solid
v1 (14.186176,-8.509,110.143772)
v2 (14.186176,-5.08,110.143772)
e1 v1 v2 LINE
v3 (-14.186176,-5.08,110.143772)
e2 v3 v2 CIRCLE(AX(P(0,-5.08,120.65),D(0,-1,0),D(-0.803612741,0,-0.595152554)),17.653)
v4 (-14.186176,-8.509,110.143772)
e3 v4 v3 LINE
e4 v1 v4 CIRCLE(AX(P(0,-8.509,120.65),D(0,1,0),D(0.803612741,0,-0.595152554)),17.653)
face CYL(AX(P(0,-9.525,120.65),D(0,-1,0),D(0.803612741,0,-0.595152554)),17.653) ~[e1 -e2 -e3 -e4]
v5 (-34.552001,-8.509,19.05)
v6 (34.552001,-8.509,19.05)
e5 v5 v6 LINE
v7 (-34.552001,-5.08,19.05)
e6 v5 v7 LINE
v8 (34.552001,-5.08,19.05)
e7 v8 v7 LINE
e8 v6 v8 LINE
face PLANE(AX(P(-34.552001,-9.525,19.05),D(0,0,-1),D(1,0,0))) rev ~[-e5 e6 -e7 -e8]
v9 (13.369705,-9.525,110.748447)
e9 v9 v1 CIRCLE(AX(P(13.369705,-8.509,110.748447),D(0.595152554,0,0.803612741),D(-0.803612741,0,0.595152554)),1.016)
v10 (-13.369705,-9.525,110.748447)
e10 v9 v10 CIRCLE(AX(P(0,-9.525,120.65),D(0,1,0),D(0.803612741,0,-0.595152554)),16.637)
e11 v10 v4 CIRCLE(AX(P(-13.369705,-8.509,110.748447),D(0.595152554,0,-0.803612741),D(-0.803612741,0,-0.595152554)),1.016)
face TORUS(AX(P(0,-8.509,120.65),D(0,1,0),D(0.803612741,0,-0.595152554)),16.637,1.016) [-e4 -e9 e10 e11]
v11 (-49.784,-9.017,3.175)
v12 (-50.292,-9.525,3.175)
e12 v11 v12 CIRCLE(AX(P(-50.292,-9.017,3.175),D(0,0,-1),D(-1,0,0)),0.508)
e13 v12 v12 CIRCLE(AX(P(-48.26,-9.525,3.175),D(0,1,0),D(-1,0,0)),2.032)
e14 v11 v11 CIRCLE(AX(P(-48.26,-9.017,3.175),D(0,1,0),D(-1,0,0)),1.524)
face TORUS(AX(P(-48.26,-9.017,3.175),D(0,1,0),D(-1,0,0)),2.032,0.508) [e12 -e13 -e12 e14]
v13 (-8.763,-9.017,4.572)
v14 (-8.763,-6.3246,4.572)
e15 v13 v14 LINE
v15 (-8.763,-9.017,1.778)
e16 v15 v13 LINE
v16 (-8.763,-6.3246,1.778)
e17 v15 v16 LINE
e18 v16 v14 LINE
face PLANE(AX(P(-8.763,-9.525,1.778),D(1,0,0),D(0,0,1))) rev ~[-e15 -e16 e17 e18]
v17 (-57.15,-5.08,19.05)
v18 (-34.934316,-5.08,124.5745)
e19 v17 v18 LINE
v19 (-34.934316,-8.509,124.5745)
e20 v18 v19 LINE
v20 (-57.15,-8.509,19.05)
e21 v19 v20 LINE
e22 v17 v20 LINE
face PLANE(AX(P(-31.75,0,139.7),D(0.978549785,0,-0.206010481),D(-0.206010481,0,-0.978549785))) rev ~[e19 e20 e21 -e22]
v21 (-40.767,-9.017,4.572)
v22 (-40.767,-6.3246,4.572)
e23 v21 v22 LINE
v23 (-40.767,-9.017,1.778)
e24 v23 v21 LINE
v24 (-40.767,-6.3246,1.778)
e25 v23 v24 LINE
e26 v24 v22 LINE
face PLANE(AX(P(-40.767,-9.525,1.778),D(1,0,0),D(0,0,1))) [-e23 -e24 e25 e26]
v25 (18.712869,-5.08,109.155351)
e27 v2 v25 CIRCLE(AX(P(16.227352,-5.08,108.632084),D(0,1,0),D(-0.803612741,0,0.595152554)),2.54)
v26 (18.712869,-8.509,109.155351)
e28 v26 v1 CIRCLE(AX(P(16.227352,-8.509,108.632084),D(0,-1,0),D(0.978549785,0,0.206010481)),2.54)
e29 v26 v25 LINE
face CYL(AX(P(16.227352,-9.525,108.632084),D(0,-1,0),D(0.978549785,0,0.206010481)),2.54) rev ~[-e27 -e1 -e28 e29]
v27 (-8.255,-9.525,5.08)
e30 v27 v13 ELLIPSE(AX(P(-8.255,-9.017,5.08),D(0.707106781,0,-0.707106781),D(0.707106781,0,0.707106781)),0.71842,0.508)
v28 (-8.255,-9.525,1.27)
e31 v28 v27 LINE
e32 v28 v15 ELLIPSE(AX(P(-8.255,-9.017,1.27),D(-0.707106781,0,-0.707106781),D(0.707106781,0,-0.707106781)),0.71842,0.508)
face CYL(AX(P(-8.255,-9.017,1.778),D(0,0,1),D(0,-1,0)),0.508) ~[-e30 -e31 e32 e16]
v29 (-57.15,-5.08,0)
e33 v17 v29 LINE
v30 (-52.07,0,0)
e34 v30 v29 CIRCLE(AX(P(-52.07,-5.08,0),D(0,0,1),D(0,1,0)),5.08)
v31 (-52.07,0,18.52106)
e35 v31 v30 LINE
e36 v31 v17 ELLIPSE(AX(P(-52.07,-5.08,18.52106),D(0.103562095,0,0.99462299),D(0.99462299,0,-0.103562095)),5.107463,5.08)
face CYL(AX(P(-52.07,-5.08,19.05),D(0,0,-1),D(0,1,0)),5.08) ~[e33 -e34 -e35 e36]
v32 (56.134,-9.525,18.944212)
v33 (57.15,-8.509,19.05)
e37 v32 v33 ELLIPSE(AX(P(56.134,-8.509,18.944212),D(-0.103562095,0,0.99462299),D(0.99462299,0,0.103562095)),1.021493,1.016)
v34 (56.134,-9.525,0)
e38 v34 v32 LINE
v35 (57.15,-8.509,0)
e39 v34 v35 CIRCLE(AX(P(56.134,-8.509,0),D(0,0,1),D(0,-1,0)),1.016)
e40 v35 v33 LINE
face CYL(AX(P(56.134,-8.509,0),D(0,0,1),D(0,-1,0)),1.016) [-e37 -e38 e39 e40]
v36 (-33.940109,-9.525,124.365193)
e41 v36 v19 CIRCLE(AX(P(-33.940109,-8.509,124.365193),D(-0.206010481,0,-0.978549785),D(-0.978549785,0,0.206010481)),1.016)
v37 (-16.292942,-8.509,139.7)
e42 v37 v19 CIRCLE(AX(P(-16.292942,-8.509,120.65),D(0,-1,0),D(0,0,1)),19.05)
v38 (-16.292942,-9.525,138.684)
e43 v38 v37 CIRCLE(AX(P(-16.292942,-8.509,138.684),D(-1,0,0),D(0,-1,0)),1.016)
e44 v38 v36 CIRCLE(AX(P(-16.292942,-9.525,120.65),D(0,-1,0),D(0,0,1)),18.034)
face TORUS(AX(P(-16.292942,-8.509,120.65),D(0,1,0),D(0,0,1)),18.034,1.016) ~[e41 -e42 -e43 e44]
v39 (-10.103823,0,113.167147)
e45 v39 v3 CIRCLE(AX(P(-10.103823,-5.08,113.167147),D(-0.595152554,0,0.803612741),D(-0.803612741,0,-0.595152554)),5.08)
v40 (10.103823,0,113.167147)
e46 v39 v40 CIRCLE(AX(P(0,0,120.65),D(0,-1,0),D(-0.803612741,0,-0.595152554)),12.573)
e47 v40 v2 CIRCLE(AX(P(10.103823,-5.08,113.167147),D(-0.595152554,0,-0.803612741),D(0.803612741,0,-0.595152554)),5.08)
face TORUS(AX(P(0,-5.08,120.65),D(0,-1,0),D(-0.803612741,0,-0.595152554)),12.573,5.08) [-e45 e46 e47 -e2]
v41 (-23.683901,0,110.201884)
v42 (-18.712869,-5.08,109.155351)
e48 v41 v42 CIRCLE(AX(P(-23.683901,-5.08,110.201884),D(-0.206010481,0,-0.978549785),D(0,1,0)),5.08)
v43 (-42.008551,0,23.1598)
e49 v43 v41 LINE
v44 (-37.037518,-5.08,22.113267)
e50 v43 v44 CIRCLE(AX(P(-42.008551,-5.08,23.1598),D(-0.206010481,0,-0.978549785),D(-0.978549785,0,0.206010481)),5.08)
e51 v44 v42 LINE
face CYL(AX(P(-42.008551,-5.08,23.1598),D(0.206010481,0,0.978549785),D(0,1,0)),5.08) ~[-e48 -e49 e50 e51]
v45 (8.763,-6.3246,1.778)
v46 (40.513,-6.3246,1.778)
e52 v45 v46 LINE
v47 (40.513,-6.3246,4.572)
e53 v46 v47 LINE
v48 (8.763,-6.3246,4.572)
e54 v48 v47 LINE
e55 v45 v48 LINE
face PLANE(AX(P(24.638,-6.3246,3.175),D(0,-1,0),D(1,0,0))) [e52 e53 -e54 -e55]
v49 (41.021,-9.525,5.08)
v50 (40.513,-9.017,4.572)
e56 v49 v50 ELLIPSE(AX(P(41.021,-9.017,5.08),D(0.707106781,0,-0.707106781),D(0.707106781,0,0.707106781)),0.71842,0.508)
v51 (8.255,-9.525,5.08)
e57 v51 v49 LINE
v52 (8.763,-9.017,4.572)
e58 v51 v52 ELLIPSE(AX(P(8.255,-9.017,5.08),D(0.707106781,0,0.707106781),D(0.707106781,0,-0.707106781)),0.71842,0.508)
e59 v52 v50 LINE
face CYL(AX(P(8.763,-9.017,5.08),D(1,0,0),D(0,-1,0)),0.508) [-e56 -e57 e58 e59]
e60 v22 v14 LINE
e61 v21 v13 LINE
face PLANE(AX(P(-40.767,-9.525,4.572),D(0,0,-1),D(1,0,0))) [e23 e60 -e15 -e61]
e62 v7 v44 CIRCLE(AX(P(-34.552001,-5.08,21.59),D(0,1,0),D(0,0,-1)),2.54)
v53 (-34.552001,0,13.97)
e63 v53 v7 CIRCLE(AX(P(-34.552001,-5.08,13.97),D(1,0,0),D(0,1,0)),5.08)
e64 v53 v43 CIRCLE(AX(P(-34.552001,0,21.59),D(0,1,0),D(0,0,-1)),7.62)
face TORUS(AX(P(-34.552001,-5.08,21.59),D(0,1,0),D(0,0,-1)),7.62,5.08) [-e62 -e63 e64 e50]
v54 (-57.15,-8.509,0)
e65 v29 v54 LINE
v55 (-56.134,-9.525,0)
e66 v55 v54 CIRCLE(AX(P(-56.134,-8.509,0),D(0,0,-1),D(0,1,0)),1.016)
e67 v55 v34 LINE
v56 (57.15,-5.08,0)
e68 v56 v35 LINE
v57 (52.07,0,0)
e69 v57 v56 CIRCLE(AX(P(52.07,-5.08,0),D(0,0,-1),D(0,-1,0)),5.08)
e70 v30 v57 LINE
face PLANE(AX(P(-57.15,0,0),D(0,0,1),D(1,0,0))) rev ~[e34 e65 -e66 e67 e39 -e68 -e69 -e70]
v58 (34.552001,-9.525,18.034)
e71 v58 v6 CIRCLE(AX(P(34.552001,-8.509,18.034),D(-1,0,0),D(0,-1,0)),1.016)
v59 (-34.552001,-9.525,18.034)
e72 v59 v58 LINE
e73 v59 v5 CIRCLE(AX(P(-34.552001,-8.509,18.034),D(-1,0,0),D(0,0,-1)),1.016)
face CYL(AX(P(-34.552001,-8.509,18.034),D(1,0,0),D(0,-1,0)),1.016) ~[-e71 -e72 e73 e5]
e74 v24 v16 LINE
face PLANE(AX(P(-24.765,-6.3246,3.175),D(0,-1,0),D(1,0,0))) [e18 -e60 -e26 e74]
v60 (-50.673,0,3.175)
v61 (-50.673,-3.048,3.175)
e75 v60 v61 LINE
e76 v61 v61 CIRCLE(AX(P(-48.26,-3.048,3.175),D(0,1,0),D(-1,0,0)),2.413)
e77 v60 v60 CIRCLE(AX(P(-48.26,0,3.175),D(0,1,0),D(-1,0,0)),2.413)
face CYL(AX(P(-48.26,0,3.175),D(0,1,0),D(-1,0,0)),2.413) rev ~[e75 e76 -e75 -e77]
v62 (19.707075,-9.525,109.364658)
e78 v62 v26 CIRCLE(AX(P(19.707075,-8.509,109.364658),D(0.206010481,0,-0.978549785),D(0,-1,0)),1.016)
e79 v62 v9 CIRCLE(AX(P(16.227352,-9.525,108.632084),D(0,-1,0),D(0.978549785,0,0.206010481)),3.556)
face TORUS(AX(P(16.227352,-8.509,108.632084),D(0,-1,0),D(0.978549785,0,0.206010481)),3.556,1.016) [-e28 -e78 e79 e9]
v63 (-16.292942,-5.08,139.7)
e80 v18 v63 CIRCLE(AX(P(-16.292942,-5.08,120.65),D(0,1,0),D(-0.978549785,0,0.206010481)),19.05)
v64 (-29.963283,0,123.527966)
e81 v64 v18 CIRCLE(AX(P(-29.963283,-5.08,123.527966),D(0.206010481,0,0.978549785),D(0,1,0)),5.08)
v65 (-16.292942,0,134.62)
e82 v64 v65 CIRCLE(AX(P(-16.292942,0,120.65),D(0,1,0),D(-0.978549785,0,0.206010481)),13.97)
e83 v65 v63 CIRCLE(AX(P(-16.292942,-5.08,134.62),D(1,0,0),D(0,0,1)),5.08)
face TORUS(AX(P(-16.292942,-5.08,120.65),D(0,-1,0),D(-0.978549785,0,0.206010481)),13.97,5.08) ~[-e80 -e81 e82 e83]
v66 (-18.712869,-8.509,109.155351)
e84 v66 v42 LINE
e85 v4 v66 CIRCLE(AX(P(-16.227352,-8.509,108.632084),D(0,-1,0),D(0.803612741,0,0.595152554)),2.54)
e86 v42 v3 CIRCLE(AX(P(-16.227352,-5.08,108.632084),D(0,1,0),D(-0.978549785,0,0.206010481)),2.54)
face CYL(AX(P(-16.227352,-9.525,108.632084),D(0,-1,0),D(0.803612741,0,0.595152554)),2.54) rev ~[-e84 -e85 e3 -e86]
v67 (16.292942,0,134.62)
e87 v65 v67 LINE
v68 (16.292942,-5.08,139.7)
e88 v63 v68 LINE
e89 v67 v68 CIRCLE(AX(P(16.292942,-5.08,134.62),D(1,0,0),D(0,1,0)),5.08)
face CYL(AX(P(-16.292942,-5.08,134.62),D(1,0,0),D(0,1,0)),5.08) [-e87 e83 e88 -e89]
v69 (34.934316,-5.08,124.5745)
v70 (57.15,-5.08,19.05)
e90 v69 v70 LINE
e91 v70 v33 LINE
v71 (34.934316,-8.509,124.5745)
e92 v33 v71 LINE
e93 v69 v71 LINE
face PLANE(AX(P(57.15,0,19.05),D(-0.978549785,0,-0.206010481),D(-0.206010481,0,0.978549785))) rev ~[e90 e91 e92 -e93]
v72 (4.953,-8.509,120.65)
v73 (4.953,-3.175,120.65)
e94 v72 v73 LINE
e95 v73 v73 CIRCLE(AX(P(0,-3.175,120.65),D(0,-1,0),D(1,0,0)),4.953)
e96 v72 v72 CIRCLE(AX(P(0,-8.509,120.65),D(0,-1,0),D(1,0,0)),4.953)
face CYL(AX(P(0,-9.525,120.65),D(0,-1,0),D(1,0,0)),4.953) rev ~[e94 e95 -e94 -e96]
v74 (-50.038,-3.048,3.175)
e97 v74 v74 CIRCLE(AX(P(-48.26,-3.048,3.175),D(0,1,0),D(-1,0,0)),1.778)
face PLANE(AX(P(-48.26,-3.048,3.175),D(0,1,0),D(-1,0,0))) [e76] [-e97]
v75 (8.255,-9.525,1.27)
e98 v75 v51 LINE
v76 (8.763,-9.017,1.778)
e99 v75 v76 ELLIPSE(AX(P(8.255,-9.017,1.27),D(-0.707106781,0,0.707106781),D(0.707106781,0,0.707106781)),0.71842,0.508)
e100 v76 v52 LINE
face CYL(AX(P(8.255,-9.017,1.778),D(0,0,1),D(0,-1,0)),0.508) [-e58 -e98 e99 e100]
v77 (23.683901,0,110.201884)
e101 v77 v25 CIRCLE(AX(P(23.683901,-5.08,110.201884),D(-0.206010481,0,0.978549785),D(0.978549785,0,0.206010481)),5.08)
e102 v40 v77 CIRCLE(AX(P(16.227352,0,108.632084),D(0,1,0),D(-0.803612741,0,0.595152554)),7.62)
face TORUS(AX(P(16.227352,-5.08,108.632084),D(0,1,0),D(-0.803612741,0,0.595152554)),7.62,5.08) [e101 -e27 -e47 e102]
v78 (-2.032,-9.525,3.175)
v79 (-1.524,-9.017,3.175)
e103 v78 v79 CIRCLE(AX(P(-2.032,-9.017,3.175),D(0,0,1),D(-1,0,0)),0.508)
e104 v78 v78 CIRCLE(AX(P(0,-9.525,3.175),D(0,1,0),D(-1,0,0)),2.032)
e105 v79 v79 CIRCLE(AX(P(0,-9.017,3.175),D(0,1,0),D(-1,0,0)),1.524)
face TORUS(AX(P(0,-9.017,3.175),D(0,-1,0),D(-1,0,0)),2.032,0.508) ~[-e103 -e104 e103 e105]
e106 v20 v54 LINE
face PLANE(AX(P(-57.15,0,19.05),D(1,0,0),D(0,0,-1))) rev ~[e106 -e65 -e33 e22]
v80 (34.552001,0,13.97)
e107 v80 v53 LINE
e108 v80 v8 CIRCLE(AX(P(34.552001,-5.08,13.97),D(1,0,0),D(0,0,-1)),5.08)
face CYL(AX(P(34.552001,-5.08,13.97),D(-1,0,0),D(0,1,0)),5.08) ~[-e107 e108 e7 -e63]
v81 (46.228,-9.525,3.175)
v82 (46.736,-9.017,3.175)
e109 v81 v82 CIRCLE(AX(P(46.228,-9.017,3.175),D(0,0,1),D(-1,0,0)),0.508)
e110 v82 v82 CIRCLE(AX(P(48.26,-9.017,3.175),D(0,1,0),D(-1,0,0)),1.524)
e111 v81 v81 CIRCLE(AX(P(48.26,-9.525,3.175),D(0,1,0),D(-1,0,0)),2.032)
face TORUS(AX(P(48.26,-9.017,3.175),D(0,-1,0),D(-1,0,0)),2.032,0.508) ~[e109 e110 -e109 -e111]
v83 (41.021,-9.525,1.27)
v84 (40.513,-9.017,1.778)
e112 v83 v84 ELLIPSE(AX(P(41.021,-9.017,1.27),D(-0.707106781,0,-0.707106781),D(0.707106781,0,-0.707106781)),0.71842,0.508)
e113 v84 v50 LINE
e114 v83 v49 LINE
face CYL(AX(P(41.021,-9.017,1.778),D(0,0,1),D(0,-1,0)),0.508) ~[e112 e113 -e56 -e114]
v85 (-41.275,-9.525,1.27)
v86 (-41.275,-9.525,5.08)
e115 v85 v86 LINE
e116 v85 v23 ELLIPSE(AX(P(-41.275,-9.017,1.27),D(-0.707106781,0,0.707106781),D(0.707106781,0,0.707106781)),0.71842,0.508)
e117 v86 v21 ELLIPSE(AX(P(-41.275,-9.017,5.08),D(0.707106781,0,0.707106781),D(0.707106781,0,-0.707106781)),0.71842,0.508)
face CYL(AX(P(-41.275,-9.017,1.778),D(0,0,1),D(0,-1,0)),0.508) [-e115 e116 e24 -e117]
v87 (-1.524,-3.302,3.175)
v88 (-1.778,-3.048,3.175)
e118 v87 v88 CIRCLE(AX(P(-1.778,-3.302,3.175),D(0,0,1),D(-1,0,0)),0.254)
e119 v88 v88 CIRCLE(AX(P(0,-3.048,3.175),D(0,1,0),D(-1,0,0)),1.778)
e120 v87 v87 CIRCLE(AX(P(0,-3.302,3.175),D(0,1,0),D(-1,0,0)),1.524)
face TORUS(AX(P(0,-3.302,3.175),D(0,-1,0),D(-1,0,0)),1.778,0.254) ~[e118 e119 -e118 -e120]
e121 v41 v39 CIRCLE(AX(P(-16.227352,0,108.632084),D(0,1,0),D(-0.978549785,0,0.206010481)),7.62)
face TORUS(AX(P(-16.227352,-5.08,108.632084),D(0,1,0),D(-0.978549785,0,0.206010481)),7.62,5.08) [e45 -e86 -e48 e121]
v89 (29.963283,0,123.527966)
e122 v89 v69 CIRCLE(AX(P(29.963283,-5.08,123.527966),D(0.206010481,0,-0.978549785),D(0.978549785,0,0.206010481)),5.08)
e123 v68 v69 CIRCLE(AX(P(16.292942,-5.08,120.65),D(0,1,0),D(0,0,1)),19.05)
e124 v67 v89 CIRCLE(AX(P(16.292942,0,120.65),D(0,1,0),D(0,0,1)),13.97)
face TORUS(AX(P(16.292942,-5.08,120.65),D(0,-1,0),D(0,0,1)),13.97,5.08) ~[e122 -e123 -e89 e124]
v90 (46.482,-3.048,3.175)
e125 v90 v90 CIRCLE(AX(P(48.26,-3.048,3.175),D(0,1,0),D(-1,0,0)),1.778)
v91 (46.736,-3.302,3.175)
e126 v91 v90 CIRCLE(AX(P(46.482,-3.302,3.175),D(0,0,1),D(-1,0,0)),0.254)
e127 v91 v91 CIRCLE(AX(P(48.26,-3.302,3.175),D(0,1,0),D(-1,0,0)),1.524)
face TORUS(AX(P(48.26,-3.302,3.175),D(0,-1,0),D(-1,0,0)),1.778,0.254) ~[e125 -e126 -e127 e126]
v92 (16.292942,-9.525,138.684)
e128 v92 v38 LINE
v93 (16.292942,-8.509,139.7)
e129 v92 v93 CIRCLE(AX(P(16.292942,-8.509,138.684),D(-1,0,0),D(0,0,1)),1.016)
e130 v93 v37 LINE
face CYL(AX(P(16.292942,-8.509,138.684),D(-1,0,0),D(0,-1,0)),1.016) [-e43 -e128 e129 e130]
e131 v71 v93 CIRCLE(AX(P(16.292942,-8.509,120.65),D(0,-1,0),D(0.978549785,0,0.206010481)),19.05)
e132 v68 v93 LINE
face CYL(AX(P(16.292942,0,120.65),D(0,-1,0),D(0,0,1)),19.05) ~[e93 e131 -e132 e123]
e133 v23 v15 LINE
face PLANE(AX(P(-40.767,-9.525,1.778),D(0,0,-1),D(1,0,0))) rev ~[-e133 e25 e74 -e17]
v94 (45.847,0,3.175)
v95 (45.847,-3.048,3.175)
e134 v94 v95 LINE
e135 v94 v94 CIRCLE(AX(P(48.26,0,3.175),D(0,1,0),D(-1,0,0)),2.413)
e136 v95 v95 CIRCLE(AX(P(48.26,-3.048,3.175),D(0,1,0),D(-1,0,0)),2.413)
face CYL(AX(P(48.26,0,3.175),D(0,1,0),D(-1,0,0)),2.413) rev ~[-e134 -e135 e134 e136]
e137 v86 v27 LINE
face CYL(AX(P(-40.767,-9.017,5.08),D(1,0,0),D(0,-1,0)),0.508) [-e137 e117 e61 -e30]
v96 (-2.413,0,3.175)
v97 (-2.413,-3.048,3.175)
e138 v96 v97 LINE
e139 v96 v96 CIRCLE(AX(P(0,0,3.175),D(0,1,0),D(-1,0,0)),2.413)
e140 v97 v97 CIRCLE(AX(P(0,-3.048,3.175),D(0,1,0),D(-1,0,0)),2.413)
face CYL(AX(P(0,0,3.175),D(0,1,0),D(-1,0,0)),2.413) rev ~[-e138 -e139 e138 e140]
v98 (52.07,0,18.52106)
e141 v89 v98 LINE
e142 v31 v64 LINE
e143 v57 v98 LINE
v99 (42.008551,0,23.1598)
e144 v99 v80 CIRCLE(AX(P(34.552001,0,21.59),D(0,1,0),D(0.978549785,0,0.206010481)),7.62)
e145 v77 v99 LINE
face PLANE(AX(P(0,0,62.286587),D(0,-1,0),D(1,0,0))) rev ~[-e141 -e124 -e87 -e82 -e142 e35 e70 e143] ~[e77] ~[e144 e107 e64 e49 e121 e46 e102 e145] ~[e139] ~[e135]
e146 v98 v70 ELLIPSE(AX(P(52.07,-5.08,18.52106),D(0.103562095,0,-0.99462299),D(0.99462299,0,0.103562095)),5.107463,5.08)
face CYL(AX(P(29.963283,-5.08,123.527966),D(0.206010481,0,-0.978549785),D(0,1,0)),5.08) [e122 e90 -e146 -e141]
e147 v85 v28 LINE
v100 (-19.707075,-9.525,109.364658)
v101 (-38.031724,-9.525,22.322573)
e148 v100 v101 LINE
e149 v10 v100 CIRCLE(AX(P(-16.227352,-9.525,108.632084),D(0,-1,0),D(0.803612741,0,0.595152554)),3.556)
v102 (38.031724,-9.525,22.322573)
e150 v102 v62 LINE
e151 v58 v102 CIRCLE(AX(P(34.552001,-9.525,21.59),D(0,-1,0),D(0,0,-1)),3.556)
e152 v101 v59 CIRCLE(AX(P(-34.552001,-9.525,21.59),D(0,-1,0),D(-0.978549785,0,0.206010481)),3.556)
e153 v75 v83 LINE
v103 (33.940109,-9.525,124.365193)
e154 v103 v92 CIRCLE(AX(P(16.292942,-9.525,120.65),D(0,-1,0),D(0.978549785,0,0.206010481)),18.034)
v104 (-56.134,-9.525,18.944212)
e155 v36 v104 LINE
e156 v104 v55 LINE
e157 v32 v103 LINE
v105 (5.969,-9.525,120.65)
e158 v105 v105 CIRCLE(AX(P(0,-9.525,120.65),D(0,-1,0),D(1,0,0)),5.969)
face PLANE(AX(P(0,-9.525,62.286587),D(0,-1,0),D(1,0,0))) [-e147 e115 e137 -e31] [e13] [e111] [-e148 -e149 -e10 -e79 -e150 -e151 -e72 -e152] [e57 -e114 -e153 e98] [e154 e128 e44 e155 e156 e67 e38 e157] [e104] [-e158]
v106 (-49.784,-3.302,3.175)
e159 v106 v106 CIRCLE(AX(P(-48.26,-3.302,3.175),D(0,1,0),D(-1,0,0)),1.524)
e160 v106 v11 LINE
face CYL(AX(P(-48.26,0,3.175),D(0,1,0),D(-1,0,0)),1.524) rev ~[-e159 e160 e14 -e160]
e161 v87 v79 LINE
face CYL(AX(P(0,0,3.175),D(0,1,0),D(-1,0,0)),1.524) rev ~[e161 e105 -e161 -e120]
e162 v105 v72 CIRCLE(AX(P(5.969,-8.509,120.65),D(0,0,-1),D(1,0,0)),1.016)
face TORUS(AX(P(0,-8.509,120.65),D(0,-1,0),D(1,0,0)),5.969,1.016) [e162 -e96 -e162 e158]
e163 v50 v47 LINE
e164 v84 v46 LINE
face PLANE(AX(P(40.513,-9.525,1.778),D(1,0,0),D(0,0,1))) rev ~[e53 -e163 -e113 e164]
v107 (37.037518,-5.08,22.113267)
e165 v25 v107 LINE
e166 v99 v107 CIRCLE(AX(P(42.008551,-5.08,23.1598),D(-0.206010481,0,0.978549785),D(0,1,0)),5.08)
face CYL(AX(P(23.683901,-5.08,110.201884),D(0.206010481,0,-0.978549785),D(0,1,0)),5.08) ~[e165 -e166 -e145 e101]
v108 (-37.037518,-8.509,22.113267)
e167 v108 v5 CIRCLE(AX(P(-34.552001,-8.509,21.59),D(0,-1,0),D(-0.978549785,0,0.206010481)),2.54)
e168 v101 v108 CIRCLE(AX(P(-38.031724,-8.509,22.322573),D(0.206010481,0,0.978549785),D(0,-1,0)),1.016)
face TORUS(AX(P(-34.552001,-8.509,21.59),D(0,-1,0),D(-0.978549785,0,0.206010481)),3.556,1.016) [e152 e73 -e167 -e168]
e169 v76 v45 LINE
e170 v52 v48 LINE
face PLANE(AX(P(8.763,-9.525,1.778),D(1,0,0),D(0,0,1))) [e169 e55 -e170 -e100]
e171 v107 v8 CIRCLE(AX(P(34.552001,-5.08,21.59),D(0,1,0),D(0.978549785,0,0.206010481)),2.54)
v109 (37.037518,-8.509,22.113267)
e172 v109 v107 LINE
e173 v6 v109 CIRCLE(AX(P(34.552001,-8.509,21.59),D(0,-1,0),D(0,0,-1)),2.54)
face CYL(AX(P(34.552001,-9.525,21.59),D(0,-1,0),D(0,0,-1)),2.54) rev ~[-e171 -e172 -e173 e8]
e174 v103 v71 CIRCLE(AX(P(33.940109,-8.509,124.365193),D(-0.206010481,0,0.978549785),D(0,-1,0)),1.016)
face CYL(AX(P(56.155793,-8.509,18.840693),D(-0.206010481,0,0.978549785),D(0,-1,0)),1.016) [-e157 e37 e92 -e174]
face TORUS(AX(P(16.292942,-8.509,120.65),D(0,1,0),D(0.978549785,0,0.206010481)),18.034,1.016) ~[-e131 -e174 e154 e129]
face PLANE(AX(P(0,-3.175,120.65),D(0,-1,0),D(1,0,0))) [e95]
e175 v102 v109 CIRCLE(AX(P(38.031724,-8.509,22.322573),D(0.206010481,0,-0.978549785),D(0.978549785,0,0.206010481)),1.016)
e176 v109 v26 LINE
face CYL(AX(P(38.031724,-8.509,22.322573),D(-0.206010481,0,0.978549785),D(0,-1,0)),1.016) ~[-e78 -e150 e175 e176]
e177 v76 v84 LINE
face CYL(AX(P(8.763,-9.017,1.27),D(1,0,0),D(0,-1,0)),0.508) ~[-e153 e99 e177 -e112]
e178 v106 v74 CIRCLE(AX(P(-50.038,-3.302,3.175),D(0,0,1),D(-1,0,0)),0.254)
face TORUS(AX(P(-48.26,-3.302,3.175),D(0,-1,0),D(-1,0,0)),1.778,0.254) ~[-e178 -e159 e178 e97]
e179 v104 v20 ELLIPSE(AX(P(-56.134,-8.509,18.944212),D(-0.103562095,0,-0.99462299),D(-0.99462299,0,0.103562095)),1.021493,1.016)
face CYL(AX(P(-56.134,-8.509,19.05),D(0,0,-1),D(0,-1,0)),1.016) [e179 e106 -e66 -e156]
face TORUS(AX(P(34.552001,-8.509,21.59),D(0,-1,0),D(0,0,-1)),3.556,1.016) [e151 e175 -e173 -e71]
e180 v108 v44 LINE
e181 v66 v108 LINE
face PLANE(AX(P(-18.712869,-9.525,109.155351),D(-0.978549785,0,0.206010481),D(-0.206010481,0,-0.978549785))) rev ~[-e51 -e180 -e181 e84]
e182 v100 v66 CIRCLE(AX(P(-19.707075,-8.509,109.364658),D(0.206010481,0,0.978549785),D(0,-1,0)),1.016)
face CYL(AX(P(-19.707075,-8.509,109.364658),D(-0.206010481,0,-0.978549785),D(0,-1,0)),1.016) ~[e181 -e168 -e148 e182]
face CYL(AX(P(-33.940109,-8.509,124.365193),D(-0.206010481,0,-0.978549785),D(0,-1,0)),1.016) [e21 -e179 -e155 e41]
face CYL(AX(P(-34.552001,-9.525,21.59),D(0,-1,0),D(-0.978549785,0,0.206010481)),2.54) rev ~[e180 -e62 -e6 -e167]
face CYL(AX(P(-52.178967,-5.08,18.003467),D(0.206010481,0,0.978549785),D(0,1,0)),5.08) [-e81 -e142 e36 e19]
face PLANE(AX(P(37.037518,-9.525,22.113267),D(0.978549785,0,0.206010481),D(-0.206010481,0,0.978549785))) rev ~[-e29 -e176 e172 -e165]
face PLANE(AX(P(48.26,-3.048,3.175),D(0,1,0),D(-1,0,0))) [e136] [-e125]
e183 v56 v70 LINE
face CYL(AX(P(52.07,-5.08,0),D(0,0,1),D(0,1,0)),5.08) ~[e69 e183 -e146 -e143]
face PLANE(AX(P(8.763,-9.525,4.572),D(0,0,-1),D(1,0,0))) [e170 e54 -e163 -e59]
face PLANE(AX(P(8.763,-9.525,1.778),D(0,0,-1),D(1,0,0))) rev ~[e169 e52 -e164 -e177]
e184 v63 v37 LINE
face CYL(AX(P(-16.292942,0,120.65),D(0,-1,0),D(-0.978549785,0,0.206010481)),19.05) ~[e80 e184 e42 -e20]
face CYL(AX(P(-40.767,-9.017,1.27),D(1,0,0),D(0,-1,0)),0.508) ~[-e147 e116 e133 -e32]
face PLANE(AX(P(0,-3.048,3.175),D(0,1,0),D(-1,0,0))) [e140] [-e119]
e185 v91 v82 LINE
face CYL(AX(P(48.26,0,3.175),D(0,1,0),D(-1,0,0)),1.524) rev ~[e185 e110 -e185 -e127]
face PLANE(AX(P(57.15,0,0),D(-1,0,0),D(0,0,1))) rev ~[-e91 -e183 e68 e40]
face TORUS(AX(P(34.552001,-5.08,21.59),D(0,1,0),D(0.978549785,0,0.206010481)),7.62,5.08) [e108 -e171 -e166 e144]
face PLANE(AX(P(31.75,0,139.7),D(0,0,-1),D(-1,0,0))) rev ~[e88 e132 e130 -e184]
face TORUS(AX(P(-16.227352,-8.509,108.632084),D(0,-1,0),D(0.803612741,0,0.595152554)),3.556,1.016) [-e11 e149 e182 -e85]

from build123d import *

# Parameters (mm, degrees)
F1_DEPTH  = 9.525
F2_R      = 4.953
F3_DEPTH  = 6.35
F4_R      = 19.05
F6_DEPTH  = 25.4
F7_R      = 5.08
F8_R      = 1.016
F9_R      = 1.524
F10_DEPTH = 25.4
F11_R     = 2.413
F12_DEPTH = 3.048
F13_R     = 0.254
F14_W     = 32.004
F14_H     = 2.794
F14_W_2   = 31.75
F15_DEPTH = 3.2004
F16_R     = 0.508


with BuildPart() as f1:
    # F0 (on Front) → F1 (new body)
    with BuildSketch(Plane.XZ):
        Polygon((-57.15, 19.05), (-57.15, 0), (57.15, 0), (57.15, 19.05), (31.75, 139.7), (-31.75, 139.7), align=None)
    extrude(amount=F1_DEPTH)

    # F2 (on face) → F3 (cut)
    with BuildSketch(Plane.XZ.offset(9.525)):
        with Locations((0, 120.65)):
            Circle(F2_R)
    extrude(amount=-F3_DEPTH, mode=Mode.SUBTRACT)

    # F4
    f4_edges = [f1.edges().sort_by_distance(p)[0] for p in [
        (31.75, -4.7625, 139.7),
        (-31.75, -4.7625, 139.7),
    ]]
    fillet(f4_edges, radius=F4_R)

    # F5 (on face) → F6 (cut)
    with BuildSketch(Plane.XZ.offset(9.525)):
        with BuildLine():
            ThreePointArc((14.1861757221, 110.1437719717), (0, 102.997), (-14.1861757221, 110.1437719717))
            ThreePointArc((-14.1861757221, 110.1437719717), (-16.7692039839, 111.1136155694), (-18.7128685388, 109.1553511075))
            Line((-18.7128685388, 109.1553511075), (-37.0375179042, 22.1132666219))
            ThreePointArc((-37.0375179042, 22.1132666219), (-36.5243981168, 19.9896089883), (-34.5520014504, 19.05))
            Line((-34.5520014504, 19.05), (34.5520014504, 19.05))
            ThreePointArc((34.5520014504, 19.05), (36.5243981168, 19.9896089883), (37.0375179042, 22.1132666219))
            Line((37.0375179042, 22.1132666219), (18.7128685388, 109.1553511075))
            ThreePointArc((18.7128685388, 109.1553511075), (16.7692039839, 111.1136155694), (14.1861757221, 110.1437719717))
        make_face()
    extrude(amount=-F6_DEPTH, mode=Mode.SUBTRACT)

    # F7
    f7_edges = [f1.edges().sort_by_distance(p)[0] for p in [
        (-28.295875, 0, 135.442975),
        (-57.15, 0, 9.525),
        (57.15, 0, 9.525),
        (0, 0, 102.997),
    ]]
    fillet(f7_edges, radius=F7_R)

    # F8
    f8_edges = [f1.edges().sort_by_distance(p)[0] for p in [
        (57.15, -9.525, 9.525),
        (46.042158, -9.525, 71.81225),
        (-27.875193, -9.525, 65.634309),
        (-4.953, -9.525, 120.65),
        (-57.15, -9.525, 9.525),
    ]]
    fillet(f8_edges, radius=F8_R)

    # F9 (on face) → F10 (cut)
    with BuildSketch(Plane(origin=(0, 0, 0), x_dir=(-1, 0, 0), z_dir=(0, 1, 0))):
        with Locations((0, 3.175)):
            Circle(F9_R)
        with Locations((48.26, 3.175)):
            Circle(F9_R)
        with Locations((-48.26, 3.175)):
            Circle(F9_R)
    extrude(amount=-F10_DEPTH, mode=Mode.SUBTRACT)

    # F11 (on face) → F12 (cut)
    with BuildSketch(Plane(origin=(0, 0, 0), x_dir=(-1, 0, 0), z_dir=(0, 1, 0))):
        with Locations((-48.26, 3.175)):
            Circle(F11_R)
        with Locations((0, 3.175)):
            Circle(F11_R)
        with Locations((48.26, 3.175)):
            Circle(F11_R)
    extrude(amount=-F12_DEPTH, mode=Mode.SUBTRACT)

    # F13
    f13_edges = [f1.edges().sort_by_distance(p)[0] for p in [
        (49.784, -3.048, 3.175),
        (1.524, -3.048, 3.175),
        (-46.736, -3.048, 3.175),
    ]]
    fillet(f13_edges, radius=F13_R)

    # F14 (on face) → F15 (cut)
    with BuildSketch(Plane.XZ.offset(9.525)):
        with Locations((-24.765, 3.175)):
            Rectangle(F14_W, F14_H)
        with Locations((24.638, 3.175)):
            Rectangle(F14_W_2, F14_H)
    extrude(amount=-F15_DEPTH, mode=Mode.SUBTRACT)

    # F16
    f16_edges = [f1.edges().sort_by_distance(p)[0] for p in [
        (-24.765, -9.525, 4.572),
        (-40.767, -9.525, 3.175),
        (-24.765, -9.525, 1.778),
        (-8.763, -9.525, 3.175),
        (24.638, -9.525, 4.572),
        (8.763, -9.525, 3.175),
        (24.638, -9.525, 1.778),
        (40.513, -9.525, 3.175),
        (-46.736, -9.525, 3.175),
        (1.524, -9.525, 3.175),
        (49.784, -9.525, 3.175),
    ]]
    fillet(f16_edges, radius=F16_R)


solid = f1.part
